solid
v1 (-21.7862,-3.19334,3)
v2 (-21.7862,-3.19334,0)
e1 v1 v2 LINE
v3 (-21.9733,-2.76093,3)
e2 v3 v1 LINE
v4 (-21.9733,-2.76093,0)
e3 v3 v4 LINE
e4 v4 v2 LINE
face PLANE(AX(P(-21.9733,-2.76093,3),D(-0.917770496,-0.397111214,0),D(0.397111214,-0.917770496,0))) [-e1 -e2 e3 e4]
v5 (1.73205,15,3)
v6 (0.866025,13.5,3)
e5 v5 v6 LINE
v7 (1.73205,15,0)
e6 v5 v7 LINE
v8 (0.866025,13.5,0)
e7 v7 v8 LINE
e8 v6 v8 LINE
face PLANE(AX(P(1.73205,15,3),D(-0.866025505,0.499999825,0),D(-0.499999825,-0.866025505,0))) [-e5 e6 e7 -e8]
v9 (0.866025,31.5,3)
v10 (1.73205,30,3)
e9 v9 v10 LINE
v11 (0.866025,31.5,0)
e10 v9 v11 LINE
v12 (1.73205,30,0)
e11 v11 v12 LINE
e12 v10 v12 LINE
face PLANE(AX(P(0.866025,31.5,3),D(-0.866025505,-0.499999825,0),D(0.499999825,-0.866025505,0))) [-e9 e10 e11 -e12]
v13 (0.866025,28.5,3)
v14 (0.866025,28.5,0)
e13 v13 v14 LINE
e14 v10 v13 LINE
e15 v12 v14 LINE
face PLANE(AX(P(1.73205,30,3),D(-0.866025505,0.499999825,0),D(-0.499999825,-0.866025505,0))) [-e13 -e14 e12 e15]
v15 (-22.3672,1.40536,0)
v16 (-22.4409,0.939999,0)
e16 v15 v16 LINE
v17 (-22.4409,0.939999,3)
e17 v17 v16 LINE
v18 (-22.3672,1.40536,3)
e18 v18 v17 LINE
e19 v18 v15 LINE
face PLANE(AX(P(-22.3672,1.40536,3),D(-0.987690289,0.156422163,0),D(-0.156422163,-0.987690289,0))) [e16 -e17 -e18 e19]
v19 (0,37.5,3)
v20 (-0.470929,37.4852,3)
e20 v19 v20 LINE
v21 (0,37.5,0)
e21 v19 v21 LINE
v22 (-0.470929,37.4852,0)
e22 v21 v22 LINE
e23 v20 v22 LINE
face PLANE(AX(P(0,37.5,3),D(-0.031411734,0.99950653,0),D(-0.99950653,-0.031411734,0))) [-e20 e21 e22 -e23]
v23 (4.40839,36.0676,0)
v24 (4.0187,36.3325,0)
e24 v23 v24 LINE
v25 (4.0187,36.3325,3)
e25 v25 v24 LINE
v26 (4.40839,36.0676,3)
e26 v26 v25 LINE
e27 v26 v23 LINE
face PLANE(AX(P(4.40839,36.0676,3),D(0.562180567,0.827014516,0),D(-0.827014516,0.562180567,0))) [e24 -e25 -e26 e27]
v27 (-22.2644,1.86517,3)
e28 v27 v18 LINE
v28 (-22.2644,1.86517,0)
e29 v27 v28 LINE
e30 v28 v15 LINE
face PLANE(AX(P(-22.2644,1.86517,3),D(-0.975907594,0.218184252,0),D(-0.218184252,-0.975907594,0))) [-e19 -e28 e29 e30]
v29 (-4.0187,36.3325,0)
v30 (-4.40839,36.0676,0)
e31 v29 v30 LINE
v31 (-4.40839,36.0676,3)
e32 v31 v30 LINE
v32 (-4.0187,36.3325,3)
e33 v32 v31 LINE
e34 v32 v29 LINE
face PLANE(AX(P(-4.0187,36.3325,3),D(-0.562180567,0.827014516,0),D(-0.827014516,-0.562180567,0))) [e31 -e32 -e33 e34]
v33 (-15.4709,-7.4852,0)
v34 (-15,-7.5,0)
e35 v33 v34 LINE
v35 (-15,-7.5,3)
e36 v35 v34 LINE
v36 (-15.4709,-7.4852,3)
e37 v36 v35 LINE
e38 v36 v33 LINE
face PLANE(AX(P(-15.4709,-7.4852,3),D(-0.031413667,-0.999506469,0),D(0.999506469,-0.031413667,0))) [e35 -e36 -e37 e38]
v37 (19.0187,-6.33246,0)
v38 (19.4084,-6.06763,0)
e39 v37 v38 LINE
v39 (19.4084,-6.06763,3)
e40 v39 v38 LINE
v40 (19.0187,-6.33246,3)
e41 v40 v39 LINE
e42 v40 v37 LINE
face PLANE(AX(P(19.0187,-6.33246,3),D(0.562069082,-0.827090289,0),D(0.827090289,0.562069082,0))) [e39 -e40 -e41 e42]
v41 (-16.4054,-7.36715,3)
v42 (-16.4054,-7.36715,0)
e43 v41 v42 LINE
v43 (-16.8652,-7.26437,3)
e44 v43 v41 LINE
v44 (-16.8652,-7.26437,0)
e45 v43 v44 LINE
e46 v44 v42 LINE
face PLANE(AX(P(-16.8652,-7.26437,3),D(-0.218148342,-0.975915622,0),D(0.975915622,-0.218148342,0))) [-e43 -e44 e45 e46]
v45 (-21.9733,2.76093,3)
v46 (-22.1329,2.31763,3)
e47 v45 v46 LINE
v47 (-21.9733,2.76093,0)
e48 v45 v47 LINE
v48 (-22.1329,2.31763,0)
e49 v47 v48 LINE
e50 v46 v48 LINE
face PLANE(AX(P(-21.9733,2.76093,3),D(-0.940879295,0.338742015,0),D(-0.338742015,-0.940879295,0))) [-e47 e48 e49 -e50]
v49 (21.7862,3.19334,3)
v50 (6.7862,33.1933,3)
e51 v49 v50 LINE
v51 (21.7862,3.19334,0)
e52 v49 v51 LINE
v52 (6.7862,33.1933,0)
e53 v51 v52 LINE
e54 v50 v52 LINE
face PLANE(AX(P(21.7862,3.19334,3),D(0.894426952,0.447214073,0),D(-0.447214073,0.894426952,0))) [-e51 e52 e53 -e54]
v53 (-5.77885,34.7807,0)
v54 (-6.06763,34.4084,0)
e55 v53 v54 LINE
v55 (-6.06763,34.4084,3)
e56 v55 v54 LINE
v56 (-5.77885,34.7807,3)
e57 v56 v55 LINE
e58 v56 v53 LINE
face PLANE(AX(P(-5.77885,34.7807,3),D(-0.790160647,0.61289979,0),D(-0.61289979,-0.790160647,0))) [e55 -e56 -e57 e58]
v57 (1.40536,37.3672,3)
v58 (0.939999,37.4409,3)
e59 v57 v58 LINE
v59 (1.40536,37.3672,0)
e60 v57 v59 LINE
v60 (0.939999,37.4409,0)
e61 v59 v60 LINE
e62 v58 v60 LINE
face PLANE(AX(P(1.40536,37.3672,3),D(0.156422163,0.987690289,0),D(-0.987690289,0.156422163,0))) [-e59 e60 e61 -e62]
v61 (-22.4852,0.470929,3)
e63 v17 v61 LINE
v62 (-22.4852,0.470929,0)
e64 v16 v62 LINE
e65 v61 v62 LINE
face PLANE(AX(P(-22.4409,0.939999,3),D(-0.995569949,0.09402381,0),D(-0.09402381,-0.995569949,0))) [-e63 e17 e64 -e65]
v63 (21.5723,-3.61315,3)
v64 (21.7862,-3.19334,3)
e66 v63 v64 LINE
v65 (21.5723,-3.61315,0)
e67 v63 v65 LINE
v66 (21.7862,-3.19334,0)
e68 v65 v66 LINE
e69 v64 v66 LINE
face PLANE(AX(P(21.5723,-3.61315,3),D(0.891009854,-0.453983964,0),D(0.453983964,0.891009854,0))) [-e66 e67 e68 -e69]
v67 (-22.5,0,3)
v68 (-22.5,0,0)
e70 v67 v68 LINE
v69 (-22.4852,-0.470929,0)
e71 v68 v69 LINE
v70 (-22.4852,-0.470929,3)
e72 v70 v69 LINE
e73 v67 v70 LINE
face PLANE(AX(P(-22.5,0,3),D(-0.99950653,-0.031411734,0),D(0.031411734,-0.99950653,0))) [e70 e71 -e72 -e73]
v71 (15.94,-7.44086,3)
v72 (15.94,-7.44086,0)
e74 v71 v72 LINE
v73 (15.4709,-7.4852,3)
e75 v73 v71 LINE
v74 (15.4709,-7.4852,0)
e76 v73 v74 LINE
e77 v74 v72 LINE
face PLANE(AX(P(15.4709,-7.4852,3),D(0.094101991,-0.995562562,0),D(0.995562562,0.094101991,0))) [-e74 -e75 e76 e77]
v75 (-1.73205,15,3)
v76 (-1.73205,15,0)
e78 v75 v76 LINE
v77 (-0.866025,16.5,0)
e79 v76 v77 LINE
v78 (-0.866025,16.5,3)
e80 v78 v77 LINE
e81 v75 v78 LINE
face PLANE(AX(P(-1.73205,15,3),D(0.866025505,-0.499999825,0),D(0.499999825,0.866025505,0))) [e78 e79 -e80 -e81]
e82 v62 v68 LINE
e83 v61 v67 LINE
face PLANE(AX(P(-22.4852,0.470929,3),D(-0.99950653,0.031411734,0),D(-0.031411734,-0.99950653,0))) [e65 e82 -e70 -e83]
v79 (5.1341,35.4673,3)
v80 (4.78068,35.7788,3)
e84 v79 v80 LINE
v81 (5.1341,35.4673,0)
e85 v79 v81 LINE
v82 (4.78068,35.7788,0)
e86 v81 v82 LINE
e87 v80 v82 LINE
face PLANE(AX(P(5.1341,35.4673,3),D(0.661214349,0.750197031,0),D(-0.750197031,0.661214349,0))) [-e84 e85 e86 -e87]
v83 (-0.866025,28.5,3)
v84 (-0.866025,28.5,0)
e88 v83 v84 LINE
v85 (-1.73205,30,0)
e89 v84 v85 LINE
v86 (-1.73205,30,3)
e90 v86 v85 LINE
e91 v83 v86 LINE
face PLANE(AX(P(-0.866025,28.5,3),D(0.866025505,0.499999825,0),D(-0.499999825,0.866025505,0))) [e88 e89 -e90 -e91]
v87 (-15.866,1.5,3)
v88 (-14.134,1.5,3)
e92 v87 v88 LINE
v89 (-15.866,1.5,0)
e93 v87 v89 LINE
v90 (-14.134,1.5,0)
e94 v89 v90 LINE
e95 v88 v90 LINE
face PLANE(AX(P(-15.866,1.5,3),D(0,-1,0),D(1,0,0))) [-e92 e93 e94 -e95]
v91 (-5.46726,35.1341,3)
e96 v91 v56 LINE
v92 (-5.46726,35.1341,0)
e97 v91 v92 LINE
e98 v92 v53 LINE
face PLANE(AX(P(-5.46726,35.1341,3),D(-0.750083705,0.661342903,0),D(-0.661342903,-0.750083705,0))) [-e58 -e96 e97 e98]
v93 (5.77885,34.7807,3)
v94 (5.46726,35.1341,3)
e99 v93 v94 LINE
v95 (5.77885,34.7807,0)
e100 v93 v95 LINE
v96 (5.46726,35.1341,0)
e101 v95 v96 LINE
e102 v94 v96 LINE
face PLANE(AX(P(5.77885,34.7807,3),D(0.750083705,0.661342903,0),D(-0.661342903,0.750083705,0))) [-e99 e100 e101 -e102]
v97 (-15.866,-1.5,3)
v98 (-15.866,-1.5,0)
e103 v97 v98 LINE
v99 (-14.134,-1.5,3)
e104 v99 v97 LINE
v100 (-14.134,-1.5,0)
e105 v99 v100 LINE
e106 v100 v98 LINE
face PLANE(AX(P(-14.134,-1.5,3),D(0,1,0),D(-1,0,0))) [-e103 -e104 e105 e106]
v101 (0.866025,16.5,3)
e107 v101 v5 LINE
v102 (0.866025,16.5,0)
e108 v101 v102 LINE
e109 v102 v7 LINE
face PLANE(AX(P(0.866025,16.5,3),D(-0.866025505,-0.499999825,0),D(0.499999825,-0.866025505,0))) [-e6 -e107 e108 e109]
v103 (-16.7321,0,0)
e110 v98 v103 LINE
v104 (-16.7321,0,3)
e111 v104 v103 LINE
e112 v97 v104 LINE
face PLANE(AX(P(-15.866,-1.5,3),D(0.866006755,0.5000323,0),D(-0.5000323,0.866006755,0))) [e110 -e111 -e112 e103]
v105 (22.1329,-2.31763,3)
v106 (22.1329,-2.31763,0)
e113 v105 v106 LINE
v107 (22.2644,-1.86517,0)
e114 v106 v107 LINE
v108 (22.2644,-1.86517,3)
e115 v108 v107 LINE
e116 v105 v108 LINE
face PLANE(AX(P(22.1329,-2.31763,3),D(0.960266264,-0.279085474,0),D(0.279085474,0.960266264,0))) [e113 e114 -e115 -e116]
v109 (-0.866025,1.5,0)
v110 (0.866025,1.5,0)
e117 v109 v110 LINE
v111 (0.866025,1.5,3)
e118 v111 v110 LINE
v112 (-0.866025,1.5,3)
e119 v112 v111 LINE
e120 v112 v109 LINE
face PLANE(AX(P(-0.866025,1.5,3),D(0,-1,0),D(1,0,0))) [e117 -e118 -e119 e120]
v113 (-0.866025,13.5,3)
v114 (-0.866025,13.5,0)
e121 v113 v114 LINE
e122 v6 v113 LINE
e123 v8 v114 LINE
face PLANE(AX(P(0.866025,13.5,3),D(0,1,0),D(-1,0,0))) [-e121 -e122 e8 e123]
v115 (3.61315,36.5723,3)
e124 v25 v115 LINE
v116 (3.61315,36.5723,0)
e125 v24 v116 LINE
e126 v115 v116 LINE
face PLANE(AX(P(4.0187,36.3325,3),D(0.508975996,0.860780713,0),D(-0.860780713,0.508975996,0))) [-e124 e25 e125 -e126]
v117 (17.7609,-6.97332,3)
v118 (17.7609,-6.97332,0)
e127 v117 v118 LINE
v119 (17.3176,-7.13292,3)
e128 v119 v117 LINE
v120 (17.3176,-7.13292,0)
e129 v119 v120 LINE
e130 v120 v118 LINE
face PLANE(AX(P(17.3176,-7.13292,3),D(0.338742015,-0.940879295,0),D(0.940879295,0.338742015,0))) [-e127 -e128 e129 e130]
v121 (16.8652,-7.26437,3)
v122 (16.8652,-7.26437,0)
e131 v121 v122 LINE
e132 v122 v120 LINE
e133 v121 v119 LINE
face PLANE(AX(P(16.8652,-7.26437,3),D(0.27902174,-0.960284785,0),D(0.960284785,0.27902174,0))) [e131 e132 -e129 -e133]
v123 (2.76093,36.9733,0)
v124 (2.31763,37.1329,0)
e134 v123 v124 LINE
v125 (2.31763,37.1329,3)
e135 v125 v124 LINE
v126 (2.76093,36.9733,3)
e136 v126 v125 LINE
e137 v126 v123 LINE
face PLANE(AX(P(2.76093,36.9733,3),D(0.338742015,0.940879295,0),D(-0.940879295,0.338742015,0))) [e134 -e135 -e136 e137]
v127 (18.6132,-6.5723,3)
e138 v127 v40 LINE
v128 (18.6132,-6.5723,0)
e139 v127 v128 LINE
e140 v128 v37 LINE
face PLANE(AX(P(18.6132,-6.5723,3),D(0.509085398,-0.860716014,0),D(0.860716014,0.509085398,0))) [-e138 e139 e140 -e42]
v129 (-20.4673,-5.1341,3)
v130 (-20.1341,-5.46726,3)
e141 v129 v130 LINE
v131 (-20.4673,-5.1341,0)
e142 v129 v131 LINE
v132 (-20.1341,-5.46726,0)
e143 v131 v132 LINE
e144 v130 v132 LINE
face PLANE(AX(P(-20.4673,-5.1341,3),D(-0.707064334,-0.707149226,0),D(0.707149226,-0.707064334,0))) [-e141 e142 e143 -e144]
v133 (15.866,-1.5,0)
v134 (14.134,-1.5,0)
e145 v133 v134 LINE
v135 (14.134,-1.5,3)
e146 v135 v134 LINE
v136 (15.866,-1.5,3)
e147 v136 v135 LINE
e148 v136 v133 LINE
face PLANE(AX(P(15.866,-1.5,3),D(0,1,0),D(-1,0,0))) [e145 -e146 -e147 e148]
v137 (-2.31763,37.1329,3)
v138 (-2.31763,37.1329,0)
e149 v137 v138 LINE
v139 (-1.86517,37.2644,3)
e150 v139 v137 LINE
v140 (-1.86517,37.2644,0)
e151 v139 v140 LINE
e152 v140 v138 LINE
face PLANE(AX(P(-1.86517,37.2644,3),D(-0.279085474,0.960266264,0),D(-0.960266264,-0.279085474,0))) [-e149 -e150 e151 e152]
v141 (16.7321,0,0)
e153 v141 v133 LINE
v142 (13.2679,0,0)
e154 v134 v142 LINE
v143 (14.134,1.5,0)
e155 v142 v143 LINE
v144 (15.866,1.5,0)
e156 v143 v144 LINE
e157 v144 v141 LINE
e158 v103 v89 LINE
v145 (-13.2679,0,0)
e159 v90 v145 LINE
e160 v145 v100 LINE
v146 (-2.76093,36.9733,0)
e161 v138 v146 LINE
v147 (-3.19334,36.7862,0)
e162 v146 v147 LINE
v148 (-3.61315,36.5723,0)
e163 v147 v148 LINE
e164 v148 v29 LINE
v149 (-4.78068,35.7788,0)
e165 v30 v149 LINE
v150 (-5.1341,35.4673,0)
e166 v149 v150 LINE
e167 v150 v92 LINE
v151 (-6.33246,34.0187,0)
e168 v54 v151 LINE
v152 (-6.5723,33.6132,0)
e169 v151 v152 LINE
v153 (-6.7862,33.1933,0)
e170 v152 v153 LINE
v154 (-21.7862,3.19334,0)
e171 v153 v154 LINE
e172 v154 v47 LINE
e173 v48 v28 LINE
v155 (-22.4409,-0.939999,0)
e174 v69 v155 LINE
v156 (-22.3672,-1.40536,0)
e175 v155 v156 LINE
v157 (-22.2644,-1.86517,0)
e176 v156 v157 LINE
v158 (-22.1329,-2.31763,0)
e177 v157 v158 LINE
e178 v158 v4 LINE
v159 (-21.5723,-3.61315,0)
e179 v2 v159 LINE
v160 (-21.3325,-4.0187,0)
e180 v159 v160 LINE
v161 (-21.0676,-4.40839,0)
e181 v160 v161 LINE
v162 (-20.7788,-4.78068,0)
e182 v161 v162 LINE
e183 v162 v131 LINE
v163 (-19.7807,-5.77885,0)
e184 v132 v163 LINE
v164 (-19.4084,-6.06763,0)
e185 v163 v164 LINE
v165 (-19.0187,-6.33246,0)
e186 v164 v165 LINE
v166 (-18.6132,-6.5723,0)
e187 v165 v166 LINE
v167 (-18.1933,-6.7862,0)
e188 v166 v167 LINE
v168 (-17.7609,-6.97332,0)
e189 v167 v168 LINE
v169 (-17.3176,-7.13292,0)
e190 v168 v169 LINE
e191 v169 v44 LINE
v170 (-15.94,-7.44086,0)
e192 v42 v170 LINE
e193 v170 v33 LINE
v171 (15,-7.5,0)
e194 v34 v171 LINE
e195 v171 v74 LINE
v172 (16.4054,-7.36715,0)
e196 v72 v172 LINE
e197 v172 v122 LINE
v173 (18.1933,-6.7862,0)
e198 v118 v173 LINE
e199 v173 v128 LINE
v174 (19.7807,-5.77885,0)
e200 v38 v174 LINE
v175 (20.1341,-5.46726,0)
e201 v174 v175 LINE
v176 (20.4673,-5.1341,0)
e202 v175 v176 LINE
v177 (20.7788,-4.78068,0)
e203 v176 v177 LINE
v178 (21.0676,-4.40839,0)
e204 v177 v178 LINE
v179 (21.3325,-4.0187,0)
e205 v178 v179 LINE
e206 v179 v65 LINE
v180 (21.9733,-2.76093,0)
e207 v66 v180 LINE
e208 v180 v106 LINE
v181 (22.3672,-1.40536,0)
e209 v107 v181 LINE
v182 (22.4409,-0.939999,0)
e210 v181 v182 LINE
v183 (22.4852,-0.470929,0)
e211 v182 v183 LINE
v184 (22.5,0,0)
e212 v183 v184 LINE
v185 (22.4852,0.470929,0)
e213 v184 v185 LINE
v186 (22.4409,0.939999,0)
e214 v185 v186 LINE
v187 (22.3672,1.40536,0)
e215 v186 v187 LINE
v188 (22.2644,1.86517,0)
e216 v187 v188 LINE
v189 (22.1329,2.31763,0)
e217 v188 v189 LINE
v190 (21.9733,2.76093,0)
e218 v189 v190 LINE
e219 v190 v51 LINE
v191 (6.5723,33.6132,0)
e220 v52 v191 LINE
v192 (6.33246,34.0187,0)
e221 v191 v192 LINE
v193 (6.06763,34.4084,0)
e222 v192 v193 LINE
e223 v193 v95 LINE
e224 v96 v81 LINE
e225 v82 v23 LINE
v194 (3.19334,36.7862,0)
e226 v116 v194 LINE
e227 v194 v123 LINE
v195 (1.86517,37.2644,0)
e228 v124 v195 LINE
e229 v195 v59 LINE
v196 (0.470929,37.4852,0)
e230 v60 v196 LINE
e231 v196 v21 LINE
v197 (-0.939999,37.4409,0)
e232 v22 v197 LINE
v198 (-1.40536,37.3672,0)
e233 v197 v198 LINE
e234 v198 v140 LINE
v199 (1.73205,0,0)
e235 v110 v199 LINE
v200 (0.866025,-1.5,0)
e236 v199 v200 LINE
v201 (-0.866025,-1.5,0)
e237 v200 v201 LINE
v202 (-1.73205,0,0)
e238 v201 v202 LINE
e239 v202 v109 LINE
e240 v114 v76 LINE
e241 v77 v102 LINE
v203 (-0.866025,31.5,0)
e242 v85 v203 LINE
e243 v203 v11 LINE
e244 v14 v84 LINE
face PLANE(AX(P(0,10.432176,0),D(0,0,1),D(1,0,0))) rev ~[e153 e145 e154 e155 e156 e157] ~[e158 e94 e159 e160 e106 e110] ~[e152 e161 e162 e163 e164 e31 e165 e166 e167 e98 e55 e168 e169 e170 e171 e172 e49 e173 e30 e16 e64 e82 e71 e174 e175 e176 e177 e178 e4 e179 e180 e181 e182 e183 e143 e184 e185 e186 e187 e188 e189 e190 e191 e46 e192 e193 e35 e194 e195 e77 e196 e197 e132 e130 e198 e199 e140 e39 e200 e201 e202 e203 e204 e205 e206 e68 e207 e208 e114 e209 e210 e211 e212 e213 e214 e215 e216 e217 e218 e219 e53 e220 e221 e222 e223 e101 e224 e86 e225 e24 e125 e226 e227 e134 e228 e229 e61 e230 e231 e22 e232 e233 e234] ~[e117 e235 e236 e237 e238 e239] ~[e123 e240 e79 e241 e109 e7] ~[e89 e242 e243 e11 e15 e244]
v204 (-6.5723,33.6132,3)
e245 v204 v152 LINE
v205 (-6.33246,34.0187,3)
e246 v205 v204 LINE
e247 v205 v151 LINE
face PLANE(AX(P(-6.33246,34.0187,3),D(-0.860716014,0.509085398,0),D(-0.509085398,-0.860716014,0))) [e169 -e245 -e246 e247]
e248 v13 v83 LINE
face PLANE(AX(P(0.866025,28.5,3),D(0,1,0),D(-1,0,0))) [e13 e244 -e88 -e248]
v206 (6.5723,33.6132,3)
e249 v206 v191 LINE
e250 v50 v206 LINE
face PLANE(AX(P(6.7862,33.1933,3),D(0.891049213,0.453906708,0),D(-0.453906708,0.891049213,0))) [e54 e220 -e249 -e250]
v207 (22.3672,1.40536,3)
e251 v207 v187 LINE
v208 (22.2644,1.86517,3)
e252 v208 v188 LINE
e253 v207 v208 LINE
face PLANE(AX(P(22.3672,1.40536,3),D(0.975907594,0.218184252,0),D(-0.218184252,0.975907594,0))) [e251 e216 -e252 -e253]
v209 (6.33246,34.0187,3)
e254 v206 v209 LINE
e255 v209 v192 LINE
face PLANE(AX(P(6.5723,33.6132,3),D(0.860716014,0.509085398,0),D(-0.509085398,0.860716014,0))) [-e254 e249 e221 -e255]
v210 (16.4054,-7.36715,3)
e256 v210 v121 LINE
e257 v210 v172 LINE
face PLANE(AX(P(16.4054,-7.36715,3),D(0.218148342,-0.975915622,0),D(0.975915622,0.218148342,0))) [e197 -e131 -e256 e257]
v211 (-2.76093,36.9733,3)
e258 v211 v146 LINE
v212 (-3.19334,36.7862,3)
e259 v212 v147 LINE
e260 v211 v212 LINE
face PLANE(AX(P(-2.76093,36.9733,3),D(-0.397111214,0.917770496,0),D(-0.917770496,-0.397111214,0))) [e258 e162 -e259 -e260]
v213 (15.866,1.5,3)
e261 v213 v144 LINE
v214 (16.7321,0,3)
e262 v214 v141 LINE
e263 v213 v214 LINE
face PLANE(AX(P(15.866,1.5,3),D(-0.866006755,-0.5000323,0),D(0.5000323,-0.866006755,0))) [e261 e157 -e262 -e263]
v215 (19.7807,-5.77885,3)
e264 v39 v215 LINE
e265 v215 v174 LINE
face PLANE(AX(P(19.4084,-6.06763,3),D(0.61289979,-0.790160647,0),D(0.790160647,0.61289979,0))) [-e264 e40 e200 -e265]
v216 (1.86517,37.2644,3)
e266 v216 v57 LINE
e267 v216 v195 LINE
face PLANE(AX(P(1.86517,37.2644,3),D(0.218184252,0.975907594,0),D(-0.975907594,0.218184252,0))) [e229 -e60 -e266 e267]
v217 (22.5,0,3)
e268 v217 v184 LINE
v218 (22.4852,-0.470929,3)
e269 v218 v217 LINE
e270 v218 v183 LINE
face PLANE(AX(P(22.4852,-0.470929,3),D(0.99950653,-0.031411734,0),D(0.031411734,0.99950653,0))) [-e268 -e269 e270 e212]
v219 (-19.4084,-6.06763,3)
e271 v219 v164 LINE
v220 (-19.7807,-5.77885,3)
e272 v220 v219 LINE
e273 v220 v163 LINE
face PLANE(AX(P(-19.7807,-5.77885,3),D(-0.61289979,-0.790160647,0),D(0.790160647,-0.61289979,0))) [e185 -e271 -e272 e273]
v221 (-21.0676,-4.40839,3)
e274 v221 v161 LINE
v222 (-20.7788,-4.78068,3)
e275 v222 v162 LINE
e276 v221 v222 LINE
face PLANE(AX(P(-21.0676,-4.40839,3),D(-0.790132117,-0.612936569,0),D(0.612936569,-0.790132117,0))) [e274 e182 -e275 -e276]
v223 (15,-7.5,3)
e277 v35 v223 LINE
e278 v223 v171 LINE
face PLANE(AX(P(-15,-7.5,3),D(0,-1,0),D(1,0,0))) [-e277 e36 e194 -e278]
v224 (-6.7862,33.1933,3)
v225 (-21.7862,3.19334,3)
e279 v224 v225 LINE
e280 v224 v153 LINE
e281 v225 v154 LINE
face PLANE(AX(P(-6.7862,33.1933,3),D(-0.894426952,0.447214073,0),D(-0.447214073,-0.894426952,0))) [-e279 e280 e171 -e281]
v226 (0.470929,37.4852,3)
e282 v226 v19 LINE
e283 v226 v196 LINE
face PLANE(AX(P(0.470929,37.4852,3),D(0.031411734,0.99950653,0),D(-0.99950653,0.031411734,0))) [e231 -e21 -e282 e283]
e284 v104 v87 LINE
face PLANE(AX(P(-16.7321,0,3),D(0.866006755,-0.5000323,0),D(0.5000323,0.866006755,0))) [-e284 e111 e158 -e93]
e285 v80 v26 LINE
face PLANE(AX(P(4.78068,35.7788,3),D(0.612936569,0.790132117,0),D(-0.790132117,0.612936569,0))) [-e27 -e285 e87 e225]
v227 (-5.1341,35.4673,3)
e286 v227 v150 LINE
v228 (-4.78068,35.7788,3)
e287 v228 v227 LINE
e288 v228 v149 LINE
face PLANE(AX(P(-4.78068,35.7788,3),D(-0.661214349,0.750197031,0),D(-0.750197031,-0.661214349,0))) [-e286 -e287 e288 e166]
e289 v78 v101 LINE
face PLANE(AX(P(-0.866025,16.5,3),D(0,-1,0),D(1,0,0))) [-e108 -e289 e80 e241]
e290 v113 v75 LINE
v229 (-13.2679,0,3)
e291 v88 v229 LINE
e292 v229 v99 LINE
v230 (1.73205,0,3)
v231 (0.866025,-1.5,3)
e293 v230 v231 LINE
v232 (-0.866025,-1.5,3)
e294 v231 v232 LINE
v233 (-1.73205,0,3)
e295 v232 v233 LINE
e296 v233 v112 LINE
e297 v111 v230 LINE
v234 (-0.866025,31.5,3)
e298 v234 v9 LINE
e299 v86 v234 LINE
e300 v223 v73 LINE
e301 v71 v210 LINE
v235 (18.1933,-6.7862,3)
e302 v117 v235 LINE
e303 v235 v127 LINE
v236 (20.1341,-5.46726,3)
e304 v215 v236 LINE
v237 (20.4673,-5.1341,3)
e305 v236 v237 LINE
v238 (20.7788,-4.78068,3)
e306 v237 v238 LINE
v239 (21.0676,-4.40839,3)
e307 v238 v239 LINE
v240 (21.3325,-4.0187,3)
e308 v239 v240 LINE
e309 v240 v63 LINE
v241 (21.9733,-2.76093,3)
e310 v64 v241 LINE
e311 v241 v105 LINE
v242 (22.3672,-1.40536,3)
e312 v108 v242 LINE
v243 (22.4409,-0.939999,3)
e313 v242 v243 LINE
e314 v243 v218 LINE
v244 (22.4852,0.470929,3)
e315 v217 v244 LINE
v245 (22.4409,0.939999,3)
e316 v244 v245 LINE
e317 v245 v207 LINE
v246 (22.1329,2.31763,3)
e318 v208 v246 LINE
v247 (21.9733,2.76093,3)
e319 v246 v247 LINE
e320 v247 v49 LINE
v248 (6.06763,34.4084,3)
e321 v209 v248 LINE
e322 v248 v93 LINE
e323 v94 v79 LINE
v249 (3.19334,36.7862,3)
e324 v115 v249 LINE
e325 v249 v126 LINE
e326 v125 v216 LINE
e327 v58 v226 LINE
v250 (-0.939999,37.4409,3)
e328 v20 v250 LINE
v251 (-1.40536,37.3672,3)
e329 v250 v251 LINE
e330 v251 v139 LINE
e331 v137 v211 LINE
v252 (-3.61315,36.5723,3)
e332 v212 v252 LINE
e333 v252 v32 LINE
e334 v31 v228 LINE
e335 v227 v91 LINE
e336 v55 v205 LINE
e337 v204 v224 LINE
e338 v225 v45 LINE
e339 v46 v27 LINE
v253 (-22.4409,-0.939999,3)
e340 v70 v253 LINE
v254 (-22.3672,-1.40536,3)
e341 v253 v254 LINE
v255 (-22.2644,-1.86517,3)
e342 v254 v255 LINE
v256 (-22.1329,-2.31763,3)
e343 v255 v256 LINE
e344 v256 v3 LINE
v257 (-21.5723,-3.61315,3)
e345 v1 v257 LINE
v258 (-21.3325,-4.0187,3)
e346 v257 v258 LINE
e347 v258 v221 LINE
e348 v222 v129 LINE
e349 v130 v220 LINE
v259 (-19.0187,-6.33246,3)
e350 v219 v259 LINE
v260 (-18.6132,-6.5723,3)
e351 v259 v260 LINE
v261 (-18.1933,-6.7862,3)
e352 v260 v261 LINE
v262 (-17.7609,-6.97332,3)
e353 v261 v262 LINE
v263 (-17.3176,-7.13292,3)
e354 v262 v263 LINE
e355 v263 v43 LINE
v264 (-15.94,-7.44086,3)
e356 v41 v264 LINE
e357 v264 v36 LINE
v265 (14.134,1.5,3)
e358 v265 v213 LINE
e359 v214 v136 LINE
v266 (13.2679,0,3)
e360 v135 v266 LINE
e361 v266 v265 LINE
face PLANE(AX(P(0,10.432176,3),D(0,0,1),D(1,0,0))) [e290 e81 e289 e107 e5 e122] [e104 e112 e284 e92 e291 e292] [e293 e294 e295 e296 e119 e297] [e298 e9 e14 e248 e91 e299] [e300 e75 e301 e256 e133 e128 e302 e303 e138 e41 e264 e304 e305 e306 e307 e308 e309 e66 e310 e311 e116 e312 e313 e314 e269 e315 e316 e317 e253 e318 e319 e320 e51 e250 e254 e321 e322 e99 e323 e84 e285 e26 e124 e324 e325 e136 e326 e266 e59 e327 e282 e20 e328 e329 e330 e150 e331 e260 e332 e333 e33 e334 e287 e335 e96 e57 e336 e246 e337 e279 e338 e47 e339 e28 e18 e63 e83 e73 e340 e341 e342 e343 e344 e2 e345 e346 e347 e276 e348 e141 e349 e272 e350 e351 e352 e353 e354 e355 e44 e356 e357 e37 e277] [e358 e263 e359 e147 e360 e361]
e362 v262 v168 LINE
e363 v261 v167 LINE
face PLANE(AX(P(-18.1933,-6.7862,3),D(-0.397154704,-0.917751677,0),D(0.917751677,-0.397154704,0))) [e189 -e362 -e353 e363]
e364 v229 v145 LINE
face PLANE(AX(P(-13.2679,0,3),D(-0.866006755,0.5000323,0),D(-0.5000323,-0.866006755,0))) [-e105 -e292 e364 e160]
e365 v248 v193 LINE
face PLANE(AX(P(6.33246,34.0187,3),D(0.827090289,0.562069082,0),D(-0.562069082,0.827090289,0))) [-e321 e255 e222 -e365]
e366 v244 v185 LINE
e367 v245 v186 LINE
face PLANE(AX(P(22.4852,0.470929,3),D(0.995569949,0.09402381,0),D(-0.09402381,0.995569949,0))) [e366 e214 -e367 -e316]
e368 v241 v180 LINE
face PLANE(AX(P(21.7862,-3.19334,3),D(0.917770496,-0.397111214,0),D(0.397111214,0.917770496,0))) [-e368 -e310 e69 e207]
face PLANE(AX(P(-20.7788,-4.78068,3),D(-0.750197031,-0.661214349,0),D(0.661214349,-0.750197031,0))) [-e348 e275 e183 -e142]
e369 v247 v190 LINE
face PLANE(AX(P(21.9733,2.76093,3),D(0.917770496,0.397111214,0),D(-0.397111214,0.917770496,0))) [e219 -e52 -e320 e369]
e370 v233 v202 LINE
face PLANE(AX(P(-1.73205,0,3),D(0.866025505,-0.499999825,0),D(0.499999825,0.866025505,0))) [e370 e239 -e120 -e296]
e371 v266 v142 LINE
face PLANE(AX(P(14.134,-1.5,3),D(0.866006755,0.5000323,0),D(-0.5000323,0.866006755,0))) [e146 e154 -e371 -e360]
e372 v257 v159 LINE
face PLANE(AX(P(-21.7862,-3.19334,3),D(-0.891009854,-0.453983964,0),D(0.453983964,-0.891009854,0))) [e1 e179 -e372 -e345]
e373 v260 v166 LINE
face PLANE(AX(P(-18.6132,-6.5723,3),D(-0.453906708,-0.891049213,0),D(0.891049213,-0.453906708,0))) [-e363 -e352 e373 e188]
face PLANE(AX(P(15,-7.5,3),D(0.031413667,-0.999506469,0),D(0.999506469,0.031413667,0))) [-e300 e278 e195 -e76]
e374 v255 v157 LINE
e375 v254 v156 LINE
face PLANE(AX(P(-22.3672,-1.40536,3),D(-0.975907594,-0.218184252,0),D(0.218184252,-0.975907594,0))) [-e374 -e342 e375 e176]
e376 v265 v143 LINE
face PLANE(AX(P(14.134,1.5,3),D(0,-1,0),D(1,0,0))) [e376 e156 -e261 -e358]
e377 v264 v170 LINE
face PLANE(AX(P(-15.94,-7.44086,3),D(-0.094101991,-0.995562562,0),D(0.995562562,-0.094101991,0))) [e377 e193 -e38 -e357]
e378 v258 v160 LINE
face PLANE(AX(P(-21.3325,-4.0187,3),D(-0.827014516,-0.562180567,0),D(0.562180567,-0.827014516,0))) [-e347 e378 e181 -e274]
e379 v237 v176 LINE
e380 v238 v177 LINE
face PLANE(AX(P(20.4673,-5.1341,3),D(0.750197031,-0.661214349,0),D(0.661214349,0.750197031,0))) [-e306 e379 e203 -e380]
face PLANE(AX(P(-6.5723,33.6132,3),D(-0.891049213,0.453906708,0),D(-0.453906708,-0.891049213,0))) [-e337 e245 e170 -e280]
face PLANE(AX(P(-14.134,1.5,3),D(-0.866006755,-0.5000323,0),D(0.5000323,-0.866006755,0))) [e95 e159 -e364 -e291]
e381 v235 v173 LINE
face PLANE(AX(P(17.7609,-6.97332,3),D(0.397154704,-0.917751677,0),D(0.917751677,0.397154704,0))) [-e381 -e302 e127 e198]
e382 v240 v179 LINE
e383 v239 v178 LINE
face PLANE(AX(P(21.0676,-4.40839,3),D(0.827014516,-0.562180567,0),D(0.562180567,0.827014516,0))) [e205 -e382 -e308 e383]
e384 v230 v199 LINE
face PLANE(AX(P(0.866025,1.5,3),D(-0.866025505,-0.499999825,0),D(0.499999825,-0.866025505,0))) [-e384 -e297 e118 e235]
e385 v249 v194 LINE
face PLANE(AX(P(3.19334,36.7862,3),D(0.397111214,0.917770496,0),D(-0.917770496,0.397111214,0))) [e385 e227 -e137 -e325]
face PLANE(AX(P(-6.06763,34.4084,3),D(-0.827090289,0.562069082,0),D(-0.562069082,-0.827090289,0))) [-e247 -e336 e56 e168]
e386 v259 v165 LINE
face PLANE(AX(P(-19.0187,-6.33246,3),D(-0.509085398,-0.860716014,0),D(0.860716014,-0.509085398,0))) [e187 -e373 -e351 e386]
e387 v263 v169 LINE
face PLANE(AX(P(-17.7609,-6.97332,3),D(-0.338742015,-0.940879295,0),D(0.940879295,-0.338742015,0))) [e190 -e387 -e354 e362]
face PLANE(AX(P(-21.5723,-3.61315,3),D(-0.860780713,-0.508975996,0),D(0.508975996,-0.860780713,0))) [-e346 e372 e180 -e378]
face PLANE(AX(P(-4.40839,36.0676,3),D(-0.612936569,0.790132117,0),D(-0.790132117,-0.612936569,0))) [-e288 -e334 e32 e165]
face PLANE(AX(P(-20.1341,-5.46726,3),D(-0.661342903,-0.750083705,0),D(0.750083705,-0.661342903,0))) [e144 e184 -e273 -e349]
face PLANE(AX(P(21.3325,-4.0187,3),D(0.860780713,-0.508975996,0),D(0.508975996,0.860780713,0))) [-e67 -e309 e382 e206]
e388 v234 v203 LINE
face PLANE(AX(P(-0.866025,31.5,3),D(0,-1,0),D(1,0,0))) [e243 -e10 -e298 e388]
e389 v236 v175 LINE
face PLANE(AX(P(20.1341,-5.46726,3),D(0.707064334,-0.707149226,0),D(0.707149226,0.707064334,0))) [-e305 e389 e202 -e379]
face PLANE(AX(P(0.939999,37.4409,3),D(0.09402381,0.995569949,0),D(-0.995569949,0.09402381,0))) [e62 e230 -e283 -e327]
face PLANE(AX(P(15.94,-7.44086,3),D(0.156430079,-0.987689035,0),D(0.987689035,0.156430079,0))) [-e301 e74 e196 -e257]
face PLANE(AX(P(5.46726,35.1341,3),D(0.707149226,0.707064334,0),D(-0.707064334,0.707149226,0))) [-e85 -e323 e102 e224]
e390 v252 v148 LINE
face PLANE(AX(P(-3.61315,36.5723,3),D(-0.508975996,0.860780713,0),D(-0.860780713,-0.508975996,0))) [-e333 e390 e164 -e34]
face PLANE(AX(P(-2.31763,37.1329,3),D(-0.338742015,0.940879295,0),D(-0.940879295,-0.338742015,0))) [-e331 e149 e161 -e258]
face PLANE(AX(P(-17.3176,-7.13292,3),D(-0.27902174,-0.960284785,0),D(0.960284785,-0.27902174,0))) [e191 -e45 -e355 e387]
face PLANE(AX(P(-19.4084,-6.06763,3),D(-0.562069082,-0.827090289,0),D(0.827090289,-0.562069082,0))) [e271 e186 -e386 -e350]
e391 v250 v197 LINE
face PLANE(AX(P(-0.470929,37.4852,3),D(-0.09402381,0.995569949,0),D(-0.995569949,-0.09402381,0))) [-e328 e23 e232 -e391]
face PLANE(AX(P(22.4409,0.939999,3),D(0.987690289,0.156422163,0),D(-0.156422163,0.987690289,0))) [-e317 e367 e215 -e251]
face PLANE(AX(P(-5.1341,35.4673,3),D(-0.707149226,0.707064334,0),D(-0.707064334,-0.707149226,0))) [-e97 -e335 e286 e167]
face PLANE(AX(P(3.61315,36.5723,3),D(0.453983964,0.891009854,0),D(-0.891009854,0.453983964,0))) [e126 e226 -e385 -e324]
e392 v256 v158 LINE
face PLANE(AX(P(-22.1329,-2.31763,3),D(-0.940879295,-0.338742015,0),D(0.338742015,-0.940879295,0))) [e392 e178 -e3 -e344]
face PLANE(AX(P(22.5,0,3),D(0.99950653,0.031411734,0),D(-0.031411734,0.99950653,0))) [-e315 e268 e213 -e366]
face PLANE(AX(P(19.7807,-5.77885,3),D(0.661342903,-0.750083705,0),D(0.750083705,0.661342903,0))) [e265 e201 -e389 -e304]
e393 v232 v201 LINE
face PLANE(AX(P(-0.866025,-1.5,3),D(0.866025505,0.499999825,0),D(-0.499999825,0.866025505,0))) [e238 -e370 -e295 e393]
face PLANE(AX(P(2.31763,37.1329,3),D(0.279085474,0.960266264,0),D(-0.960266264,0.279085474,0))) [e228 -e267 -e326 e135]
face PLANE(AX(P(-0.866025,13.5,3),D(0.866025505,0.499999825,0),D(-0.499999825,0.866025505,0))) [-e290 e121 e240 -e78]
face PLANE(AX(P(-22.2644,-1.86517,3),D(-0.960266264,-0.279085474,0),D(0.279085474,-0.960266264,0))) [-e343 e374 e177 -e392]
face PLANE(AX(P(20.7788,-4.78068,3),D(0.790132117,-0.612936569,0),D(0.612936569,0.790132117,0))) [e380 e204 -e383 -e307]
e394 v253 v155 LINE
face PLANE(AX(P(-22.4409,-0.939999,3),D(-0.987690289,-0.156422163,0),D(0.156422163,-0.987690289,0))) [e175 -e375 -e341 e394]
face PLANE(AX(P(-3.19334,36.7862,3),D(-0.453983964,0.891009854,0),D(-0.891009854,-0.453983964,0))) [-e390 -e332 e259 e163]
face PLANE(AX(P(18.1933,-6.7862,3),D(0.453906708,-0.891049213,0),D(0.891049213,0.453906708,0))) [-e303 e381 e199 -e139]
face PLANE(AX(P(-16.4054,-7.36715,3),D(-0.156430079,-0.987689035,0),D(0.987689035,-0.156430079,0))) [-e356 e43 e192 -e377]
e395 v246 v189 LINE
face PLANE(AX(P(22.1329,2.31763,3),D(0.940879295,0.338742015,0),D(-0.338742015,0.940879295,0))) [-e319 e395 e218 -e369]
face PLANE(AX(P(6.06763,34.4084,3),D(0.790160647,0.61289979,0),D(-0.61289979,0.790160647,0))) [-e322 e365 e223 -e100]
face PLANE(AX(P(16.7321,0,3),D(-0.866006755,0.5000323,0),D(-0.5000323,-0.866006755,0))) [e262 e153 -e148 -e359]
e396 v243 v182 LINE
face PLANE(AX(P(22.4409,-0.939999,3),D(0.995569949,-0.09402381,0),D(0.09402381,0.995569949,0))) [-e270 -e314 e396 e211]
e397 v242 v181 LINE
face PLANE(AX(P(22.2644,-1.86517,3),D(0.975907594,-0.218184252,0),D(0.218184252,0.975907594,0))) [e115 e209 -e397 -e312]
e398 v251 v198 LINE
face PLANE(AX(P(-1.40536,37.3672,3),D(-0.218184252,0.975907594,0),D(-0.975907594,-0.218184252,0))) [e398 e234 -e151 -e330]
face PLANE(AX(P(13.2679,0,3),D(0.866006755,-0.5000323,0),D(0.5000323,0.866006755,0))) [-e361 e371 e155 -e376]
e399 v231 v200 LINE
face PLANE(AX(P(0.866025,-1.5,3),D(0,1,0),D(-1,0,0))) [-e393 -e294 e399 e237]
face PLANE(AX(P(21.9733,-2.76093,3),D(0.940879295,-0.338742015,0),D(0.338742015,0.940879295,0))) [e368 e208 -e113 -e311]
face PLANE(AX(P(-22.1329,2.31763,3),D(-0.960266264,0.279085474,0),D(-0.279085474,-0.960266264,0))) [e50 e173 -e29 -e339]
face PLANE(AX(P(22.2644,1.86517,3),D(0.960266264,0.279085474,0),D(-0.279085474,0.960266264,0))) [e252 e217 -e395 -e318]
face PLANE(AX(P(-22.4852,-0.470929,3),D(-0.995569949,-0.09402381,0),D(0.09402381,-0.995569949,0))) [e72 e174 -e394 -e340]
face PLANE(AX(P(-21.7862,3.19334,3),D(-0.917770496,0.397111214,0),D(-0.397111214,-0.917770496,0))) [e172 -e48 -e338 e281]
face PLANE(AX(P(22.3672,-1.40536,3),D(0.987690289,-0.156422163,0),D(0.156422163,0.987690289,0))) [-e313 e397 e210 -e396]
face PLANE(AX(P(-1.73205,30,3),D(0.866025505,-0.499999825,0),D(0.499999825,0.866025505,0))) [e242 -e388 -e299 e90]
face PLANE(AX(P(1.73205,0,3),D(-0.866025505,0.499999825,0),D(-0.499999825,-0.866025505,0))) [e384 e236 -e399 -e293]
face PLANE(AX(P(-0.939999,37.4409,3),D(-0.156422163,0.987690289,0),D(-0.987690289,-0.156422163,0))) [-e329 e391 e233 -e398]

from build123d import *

# Parameters (mm, degrees)
BOSS_EXTRUDE1_DEPTH = 3


with BuildPart() as part:
    # Sketch1 → Boss-Extrude1 (new body)
    with BuildSketch(Plane.XY.offset(3)):
        Polygon((22.3672, -1.40536), (22.4409, -0.939999), (22.4852, -0.470929), (22.5, 0), (22.4852, 0.470929), (22.4409, 0.939999), (22.3672, 1.40536), (22.2644, 1.86517), (22.1329, 2.31763), (21.9733, 2.76093), (21.7862, 3.19334), (6.7862, 33.1933), (6.5723, 33.6132), (6.33246, 34.0187), (6.06763, 34.4084), (5.77885, 34.7807), (5.46726, 35.1341), (5.1341, 35.4673), (4.78068, 35.7788), (4.40839, 36.0676), (4.0187, 36.3325), (3.61315, 36.5723), (3.19334, 36.7862), (2.76093, 36.9733), (2.31763, 37.1329), (1.86517, 37.2644), (1.40536, 37.3672), (0.939999, 37.4409), (0.470929, 37.4852), (0, 37.5), (-0.470929, 37.4852), (-0.939999, 37.4409), (-1.40536, 37.3672), (-1.86517, 37.2644), (-2.31763, 37.1329), (-2.76093, 36.9733), (-3.19334, 36.7862), (-3.61315, 36.5723), (-4.0187, 36.3325), (-4.40839, 36.0676), (-4.78068, 35.7788), (-5.1341, 35.4673), (-5.46726, 35.1341), (-5.77885, 34.7807), (-6.06763, 34.4084), (-6.33246, 34.0187), (-6.5723, 33.6132), (-6.7862, 33.1933), (-21.7862, 3.19334), (-21.9733, 2.76093), (-22.1329, 2.31763), (-22.2644, 1.86517), (-22.3672, 1.40536), (-22.4409, 0.939999), (-22.4852, 0.470929), (-22.5, 0), (-22.4852, -0.470929), (-22.4409, -0.939999), (-22.3672, -1.40536), (-22.2644, -1.86517), (-22.1329, -2.31763), (-21.9733, -2.76093), (-21.7862, -3.19334), (-21.5723, -3.61315), (-21.3325, -4.0187), (-21.0676, -4.40839), (-20.7788, -4.78068), (-20.4673, -5.1341), (-20.1341, -5.46726), (-19.7807, -5.77885), (-19.4084, -6.06763), (-19.0187, -6.33246), (-18.6132, -6.5723), (-18.1933, -6.7862), (-17.7609, -6.97332), (-17.3176, -7.13292), (-16.8652, -7.26437), (-16.4054, -7.36715), (-15.94, -7.44086), (-15.4709, -7.4852), (-15, -7.5), (15, -7.5), (15.4709, -7.4852), (15.94, -7.44086), (16.4054, -7.36715), (16.8652, -7.26437), (17.3176, -7.13292), (17.7609, -6.97332), (18.1933, -6.7862), (18.6132, -6.5723), (19.0187, -6.33246), (19.4084, -6.06763), (19.7807, -5.77885), (20.1341, -5.46726), (20.4673, -5.1341), (20.7788, -4.78068), (21.0676, -4.40839), (21.3325, -4.0187), (21.5723, -3.61315), (21.7862, -3.19334), (21.9733, -2.76093), (22.1329, -2.31763), (22.2644, -1.86517), align=None)
        Polygon((0.866025, 1.5), (1.73205, 0), (0.866025, -1.5), (-0.866025, -1.5), (-1.73205, 0), (-0.866025, 1.5), align=None, mode=Mode.SUBTRACT)
        Polygon((-0.866025, 31.5), (0.866025, 31.5), (1.73205, 30), (0.866025, 28.5), (-0.866025, 28.5), (-1.73205, 30), align=None, mode=Mode.SUBTRACT)
        Polygon((15.866, 1.5), (16.7321, 0), (15.866, -1.5), (14.134, -1.5), (13.2679, 0), (14.134, 1.5), align=None, mode=Mode.SUBTRACT)
        Polygon((0.866025, 16.5), (1.73205, 15), (0.866025, 13.5), (-0.866025, 13.5), (-1.73205, 15), (-0.866025, 16.5), align=None, mode=Mode.SUBTRACT)
        Polygon((-14.134, 1.5), (-13.2679, 0), (-14.134, -1.5), (-15.866, -1.5), (-16.7321, 0), (-15.866, 1.5), align=None, mode=Mode.SUBTRACT)
    extrude(amount=-BOSS_EXTRUDE1_DEPTH)


solid = part.part
